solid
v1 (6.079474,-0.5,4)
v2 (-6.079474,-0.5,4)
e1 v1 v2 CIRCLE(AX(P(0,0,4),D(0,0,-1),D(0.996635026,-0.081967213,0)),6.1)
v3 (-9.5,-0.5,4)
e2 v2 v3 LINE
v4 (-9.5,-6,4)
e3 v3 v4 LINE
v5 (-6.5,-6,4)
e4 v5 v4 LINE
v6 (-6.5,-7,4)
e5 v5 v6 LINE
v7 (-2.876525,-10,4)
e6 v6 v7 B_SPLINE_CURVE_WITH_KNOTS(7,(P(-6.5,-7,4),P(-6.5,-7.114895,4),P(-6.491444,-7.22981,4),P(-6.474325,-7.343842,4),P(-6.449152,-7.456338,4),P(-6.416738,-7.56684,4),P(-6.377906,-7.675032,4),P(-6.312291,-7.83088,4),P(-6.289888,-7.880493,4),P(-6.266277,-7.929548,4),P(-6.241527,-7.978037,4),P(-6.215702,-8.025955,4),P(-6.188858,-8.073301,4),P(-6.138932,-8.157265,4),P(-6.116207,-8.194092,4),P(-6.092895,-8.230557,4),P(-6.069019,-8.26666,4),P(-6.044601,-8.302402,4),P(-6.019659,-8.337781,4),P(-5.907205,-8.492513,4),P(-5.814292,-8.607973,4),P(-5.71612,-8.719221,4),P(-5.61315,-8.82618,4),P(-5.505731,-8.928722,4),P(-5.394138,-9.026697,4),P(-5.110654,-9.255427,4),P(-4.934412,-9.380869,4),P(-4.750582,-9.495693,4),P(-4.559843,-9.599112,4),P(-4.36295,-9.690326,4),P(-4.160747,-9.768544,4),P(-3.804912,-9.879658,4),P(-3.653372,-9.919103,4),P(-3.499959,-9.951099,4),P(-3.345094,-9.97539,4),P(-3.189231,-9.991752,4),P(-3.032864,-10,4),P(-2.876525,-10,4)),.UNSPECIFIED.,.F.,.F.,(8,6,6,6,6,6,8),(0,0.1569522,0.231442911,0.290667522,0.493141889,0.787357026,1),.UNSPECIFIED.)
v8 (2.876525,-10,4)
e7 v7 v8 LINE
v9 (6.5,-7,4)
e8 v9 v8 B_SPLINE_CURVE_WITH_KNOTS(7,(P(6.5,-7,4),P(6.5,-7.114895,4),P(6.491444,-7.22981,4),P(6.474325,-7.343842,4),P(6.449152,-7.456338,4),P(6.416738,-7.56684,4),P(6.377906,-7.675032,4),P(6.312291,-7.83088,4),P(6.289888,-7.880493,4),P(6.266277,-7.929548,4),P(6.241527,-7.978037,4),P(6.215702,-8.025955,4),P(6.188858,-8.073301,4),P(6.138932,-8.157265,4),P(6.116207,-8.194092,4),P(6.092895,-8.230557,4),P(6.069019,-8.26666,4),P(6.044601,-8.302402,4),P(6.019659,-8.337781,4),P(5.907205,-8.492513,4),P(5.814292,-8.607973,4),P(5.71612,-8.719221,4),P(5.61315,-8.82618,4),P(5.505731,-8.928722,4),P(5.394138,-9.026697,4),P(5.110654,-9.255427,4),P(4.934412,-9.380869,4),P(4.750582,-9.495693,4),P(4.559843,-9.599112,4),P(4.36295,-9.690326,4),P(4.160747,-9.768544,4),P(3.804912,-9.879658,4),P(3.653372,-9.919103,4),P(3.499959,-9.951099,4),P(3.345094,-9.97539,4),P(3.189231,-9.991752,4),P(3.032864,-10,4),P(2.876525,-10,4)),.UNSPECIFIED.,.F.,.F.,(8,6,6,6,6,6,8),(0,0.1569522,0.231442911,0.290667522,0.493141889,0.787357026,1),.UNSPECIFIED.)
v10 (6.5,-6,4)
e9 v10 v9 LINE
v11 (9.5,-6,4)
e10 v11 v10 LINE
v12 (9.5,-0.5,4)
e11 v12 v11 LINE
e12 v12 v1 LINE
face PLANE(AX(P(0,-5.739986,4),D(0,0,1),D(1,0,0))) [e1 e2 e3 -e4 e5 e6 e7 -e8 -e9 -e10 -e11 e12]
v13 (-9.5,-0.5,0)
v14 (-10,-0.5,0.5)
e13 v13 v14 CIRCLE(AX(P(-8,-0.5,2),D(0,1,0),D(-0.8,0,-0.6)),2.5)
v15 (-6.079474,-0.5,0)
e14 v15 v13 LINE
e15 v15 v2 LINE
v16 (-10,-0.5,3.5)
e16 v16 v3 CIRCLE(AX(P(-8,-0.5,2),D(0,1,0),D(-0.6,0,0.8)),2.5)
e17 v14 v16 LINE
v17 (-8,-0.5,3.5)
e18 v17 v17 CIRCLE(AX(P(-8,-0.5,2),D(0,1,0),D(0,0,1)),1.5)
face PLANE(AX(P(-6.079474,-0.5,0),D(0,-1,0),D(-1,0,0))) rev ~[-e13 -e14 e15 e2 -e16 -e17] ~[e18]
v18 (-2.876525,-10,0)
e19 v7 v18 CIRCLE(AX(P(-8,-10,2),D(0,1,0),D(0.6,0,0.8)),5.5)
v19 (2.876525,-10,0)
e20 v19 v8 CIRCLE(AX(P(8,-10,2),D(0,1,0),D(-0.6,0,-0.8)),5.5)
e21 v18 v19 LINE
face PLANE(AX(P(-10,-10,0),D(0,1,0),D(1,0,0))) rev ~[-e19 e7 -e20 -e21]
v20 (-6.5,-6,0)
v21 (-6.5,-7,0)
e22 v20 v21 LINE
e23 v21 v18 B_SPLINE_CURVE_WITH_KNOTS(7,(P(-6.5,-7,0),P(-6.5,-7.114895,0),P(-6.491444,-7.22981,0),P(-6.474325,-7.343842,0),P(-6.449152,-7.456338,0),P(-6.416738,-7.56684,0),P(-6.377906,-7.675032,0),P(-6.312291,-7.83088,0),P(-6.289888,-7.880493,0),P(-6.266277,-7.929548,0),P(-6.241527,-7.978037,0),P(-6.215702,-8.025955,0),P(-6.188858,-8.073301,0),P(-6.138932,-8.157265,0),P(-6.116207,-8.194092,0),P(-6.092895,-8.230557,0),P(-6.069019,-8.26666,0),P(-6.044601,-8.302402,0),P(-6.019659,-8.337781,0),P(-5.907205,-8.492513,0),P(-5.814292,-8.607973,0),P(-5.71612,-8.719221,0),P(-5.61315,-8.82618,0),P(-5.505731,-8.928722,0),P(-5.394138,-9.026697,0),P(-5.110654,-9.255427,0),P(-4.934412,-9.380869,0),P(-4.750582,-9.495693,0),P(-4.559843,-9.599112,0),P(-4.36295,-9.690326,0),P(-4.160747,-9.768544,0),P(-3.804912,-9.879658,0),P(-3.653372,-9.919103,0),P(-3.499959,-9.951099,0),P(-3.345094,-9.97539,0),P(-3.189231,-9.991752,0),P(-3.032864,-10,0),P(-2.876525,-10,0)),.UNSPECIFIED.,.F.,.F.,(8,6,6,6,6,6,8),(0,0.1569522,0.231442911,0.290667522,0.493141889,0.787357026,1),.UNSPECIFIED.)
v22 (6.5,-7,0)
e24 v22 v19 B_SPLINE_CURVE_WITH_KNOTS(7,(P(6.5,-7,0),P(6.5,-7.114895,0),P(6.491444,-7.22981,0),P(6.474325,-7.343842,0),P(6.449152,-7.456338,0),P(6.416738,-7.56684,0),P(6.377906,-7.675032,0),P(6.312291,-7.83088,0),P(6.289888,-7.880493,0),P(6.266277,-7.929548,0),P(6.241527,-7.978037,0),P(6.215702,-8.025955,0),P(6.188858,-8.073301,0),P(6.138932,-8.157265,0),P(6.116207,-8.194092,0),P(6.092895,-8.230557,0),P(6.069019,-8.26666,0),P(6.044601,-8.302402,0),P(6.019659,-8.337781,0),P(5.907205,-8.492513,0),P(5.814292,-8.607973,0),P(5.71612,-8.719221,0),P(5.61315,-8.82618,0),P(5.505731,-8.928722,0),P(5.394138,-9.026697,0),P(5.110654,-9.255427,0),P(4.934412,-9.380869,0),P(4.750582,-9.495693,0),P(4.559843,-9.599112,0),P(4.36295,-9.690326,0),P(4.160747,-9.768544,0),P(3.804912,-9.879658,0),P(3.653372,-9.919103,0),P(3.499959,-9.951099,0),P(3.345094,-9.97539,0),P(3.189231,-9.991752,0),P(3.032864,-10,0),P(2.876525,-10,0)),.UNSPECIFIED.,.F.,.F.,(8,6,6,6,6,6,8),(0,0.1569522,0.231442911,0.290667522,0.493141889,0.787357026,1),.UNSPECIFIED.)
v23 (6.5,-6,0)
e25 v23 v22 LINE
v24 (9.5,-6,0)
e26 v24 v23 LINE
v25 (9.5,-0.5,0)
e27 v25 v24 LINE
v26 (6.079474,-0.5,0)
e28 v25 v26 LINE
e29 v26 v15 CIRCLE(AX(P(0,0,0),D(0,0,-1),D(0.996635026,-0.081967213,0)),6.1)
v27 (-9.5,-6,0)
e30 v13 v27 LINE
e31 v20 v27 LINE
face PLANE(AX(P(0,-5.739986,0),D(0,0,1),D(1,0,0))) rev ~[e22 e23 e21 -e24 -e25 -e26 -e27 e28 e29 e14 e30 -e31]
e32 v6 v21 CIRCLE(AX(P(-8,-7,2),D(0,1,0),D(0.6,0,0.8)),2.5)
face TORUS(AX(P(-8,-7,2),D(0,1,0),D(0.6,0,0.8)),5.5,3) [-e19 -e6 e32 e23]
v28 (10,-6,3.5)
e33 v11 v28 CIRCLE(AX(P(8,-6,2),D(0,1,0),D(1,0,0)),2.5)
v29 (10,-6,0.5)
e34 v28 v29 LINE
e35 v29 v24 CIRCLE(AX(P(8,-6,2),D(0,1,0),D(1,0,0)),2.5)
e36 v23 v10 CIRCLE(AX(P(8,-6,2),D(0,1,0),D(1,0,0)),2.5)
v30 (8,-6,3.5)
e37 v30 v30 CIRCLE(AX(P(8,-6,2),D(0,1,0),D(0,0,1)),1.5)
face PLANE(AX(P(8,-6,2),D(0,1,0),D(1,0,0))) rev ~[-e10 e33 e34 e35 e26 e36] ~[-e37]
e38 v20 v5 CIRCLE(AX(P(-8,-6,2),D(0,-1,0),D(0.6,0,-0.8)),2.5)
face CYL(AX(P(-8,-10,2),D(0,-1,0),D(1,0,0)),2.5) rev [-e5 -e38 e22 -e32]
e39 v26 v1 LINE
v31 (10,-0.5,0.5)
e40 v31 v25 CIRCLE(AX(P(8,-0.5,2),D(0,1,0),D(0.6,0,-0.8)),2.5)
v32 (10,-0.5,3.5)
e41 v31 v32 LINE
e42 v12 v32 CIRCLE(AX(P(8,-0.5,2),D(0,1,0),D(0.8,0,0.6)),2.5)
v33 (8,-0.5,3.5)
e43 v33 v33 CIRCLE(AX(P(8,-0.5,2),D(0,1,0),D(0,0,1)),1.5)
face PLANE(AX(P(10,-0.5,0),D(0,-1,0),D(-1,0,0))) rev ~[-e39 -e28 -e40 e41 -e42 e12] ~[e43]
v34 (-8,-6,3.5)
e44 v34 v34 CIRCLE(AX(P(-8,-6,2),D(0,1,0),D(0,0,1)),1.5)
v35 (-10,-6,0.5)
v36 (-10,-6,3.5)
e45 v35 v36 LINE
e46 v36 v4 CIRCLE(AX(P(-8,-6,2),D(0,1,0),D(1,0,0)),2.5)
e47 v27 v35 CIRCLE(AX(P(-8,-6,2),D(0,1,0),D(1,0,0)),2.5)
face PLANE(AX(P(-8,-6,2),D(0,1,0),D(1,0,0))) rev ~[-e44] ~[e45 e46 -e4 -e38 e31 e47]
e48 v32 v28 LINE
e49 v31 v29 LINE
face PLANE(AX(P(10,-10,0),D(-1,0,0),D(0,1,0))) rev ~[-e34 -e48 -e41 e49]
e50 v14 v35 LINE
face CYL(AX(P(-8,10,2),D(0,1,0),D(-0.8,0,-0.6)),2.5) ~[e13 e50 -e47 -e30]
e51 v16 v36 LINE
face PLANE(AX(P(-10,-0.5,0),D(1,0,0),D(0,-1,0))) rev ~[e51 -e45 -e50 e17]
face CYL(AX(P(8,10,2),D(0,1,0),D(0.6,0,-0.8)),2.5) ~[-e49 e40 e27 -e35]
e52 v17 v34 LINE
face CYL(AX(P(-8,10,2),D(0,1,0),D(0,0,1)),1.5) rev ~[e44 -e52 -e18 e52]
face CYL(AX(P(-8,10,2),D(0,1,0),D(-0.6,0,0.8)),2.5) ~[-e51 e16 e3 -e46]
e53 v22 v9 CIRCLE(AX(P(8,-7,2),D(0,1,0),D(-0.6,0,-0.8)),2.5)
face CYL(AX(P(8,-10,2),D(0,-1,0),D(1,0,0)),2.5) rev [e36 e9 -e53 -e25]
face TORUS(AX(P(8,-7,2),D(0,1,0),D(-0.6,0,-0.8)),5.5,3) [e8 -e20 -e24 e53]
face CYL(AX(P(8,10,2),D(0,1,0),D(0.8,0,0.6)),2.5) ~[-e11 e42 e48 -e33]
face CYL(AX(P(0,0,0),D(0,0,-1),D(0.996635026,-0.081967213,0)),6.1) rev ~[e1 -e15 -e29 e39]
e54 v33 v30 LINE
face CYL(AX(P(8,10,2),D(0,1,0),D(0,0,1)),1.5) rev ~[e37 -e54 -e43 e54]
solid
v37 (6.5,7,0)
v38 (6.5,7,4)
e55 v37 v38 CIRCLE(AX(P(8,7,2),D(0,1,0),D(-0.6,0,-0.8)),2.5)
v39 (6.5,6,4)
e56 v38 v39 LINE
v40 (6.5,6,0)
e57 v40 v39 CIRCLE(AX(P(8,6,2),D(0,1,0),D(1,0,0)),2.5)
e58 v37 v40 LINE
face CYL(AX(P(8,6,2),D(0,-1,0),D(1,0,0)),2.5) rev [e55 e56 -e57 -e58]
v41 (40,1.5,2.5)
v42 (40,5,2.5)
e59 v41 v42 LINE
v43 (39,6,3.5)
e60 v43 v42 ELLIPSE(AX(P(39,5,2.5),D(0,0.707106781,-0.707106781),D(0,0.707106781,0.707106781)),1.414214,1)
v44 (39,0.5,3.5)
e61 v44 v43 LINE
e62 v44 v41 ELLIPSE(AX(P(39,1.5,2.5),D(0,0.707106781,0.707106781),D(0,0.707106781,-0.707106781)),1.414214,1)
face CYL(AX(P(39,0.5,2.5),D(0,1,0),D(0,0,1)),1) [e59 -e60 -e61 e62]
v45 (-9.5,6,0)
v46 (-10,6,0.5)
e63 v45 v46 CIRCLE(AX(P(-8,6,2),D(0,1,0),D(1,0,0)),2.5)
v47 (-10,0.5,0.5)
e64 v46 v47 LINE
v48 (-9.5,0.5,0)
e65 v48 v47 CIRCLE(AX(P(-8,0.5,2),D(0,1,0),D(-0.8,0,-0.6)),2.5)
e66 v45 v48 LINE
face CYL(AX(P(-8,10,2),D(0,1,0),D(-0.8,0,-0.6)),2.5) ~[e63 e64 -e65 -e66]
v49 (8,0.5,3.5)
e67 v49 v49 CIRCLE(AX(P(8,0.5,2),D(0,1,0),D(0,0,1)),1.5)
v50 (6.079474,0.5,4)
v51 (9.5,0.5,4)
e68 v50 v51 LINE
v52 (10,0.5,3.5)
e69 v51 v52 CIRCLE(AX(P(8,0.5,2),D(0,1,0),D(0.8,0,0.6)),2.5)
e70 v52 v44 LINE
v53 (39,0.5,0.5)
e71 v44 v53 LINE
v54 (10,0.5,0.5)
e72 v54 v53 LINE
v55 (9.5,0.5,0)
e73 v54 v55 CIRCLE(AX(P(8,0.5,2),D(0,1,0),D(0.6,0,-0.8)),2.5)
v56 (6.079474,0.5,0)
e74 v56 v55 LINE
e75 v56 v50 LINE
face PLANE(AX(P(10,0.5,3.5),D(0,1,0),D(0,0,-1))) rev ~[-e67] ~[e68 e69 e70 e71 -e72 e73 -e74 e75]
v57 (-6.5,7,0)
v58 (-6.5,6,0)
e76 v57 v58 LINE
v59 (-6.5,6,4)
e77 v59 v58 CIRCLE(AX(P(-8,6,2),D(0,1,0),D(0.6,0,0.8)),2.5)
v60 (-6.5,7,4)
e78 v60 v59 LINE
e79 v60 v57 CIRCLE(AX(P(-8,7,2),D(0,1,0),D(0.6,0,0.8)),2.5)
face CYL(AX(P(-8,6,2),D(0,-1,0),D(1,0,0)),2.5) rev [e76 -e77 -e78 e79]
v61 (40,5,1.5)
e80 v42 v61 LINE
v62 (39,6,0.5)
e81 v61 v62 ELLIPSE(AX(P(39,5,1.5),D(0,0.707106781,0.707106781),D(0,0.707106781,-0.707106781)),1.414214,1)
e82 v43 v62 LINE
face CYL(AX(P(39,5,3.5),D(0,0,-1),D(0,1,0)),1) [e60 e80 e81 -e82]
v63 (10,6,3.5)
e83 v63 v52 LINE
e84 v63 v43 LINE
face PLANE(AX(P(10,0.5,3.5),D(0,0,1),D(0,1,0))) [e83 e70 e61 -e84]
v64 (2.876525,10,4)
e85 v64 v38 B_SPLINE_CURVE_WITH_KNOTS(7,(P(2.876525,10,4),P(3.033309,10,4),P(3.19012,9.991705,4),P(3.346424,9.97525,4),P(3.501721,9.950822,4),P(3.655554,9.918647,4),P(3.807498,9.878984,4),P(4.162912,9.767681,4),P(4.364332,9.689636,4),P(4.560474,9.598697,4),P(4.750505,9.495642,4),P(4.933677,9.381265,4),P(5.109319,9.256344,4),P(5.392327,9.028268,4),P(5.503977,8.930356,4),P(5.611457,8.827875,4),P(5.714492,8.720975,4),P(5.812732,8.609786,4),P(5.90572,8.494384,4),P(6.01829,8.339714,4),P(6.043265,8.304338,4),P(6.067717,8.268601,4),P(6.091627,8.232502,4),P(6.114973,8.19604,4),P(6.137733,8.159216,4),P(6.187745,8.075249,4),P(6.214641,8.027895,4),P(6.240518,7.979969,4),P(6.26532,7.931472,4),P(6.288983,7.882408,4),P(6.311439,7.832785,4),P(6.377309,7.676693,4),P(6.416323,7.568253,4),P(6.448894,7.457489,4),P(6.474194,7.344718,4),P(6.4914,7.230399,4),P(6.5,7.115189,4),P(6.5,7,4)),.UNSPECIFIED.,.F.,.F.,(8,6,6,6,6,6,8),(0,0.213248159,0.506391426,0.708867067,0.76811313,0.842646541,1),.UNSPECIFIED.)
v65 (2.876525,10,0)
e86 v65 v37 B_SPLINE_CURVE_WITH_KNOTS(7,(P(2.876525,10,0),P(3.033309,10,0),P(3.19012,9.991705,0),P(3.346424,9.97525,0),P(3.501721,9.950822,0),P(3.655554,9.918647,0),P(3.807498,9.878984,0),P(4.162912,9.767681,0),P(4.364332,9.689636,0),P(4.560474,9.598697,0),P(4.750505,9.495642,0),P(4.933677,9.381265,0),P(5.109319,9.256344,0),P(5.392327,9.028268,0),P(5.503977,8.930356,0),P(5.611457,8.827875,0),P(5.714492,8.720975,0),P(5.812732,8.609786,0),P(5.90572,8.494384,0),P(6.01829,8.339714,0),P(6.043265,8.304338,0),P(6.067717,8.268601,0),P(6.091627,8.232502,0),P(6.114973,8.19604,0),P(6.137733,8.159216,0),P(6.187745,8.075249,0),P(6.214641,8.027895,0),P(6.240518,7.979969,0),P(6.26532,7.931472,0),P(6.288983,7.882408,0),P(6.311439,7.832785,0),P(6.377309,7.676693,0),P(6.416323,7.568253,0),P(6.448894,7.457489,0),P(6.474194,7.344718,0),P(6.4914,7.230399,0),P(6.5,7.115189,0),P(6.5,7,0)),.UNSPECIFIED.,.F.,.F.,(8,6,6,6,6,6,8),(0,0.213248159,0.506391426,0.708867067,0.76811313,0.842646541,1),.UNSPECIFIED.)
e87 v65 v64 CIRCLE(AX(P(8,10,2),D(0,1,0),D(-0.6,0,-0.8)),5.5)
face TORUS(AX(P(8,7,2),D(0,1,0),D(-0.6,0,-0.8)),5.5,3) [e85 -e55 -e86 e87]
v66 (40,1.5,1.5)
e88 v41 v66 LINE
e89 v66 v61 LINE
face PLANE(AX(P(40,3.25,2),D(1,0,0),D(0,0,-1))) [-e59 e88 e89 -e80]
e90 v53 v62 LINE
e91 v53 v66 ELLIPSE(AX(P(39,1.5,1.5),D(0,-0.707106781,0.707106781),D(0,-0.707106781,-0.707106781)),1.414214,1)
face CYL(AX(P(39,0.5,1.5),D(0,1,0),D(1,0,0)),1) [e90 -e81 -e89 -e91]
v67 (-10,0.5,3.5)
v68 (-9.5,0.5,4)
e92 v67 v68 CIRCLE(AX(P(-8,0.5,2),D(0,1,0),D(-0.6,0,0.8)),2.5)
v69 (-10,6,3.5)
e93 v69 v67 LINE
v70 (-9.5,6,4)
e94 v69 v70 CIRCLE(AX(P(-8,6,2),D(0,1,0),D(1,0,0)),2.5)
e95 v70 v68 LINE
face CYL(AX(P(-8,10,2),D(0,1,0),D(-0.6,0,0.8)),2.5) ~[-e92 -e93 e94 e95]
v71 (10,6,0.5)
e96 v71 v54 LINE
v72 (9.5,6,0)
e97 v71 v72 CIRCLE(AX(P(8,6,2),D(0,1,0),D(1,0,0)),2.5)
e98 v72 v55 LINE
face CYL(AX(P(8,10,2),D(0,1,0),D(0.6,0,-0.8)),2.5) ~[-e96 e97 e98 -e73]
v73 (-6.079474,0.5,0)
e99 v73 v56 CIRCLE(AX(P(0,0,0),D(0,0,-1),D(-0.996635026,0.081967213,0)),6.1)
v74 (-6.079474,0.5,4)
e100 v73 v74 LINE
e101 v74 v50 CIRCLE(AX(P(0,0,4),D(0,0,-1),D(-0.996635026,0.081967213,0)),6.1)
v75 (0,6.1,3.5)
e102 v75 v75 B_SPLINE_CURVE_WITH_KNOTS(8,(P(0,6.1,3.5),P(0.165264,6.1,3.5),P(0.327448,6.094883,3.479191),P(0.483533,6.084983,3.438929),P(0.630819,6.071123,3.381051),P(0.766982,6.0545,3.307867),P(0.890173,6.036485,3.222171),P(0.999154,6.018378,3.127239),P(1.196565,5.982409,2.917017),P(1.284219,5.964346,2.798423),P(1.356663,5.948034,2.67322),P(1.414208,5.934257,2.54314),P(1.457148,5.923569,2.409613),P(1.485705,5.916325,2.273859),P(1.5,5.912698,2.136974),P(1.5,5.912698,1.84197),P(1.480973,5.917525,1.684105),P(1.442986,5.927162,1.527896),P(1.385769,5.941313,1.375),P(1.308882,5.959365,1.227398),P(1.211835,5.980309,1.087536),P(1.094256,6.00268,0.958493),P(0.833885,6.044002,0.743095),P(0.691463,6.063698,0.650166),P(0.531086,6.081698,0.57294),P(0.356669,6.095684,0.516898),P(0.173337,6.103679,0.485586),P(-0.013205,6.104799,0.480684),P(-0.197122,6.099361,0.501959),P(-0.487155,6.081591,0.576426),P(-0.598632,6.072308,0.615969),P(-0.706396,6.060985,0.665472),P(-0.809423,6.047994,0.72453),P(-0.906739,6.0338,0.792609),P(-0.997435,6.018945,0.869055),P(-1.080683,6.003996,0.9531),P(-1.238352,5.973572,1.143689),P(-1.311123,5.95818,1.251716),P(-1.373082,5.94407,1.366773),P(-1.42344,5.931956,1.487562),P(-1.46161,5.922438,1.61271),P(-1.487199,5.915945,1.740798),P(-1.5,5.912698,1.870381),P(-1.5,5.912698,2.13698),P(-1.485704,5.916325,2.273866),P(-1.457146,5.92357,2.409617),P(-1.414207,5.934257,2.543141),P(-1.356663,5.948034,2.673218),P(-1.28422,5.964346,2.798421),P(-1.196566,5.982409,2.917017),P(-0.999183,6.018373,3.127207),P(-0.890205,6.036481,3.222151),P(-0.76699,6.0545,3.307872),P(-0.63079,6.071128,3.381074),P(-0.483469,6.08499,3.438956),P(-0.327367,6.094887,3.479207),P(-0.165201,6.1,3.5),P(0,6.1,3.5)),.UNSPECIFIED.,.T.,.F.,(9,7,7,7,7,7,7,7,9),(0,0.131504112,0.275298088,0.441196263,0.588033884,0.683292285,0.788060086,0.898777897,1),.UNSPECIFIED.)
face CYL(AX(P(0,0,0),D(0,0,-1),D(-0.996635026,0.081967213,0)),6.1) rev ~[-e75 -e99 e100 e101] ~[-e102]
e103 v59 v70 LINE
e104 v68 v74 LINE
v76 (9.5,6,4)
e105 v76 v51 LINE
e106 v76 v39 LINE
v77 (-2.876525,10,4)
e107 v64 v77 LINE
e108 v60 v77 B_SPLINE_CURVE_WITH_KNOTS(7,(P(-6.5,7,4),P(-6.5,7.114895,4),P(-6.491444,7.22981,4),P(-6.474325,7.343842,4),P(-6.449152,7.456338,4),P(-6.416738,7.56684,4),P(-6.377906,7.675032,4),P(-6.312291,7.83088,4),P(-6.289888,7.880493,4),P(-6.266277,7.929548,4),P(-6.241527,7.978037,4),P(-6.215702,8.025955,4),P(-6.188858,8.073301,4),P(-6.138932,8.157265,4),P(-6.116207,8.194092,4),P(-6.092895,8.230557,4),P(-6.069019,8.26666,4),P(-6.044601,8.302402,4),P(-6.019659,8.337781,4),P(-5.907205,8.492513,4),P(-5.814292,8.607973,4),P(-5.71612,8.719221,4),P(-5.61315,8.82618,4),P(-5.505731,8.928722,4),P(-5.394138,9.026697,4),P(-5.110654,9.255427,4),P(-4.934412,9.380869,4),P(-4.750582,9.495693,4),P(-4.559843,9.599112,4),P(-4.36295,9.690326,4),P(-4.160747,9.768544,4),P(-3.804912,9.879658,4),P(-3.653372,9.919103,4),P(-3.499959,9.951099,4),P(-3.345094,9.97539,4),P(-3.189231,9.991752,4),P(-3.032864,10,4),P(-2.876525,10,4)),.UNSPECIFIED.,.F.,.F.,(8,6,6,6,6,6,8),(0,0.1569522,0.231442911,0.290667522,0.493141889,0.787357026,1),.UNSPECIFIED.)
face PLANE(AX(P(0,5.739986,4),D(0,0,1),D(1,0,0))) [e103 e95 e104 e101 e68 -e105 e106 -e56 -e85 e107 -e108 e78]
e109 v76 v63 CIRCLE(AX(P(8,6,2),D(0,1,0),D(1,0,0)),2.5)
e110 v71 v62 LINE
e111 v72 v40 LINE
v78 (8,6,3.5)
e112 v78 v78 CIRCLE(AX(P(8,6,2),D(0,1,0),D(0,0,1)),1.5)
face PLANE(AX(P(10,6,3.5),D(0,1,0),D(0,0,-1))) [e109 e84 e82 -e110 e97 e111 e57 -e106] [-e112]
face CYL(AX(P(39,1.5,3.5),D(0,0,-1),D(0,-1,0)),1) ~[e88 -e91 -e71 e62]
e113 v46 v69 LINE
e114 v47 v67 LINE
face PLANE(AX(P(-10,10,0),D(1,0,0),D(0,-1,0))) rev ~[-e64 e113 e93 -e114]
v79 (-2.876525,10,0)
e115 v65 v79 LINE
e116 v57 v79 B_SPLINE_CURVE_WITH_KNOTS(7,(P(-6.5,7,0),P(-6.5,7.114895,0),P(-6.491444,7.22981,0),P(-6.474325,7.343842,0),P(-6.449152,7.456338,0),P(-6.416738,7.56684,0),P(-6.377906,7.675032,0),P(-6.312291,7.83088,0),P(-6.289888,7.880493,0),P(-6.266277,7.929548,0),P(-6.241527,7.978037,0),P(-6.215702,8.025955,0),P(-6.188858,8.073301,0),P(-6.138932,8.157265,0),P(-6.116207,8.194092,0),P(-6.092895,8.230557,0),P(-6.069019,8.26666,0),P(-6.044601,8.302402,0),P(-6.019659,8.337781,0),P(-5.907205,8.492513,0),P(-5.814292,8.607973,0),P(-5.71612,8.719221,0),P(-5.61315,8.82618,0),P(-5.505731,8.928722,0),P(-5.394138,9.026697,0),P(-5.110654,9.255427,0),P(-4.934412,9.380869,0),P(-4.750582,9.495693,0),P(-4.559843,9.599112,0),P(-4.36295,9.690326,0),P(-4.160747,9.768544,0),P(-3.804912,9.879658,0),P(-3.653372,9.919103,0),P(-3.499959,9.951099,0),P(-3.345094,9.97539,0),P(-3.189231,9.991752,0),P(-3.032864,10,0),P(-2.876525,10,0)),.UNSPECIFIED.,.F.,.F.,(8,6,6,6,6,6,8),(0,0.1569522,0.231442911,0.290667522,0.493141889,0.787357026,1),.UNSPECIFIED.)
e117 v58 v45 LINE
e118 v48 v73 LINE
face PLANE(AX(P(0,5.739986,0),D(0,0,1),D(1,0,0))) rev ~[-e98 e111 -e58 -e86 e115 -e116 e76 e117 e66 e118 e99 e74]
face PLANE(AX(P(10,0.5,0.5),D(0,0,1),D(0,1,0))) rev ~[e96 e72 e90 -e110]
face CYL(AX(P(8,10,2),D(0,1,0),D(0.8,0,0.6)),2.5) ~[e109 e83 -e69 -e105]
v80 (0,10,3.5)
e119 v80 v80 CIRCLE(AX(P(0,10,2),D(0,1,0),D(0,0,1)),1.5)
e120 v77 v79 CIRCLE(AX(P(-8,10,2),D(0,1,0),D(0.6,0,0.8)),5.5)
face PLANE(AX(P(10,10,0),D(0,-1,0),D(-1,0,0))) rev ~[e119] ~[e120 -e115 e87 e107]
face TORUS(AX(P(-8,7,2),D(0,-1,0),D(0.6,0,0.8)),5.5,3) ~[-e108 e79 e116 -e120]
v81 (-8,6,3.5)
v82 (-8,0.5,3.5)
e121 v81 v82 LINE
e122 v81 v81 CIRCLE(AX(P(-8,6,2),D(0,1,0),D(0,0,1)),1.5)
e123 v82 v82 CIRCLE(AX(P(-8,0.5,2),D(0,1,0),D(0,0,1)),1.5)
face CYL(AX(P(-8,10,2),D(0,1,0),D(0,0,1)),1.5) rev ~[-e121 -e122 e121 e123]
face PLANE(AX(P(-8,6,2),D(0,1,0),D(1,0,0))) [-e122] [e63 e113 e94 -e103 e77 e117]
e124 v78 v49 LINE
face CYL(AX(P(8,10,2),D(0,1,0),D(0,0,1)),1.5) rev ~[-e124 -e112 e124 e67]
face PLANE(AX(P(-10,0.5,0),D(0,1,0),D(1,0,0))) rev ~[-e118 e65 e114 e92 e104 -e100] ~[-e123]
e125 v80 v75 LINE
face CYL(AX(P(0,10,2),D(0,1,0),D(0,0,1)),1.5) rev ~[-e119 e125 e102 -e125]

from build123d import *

# Parameters (mm, degrees)
BOSS_EXTRUDE1_DEPTH   = 4
BOSS_EXTRUDE1_2_DEPTH = 4
CUT_EXTRUDE1_START    = -10
SKETCH2_R             = 2.5
SKETCH2_R_2           = 1.5
CUT_EXTRUDE1_DEPTH    = 4
CUT_EXTRUDE2_START    = 6
SKETCH3_R             = 2.5
SKETCH3_R_2           = 1.5
CUT_EXTRUDE2_DEPTH    = 4
SKETCH4_R             = 1.5
CUT_EXTRUDE3_DEPTH    = 23.715633383
SKETCH5_R             = 1.5
CUT_EXTRUDE4_DEPTH    = 6
FILLET1_R             = 3
FILLET2_R             = 3
SKETCH6_W             = 3
SKETCH6_H             = 5.5
BOSS_EXTRUDE2_DEPTH   = 30
FILLET3_R             = 1


with BuildPart() as part:
    # Sketch1 → Boss-Extrude1 (new body)
    with BuildSketch(Plane.XY):
        with BuildLine():
            Line((-10, -0.5), (-10, -10))
            Line((-10, -10), (10, -10))
            Line((10, -10), (10, -0.5))
            Line((10, -0.5), (6.079473661, -0.5))
            ThreePointArc((6.079473661, -0.5), (0, -6.1), (-6.079473661, -0.5))
            Line((-6.079473661, -0.5), (-10, -0.5))
        make_face()
    extrude(amount=BOSS_EXTRUDE1_DEPTH)

    # Sketch2 → Cut-Extrude1 (cut)
    # profile 1 of 2: a face of its own
    with BuildSketch(Plane(origin=(0, 0, 0), x_dir=(1, 0, 0), z_dir=(0, 1, 0)).offset(CUT_EXTRUDE1_START)):
        with Locations((8, -2)):
            Circle(SKETCH2_R)
    # profile 2 of 2: a face of its own
    with BuildSketch(Plane(origin=(0, 0, 0), x_dir=(1, 0, 0), z_dir=(0, 1, 0)).offset(CUT_EXTRUDE1_START)):
        with Locations((-8, -2)):
            Circle(SKETCH2_R)
        with Locations(Location((-8, -2, 0), (0, 0, 270))):
            Circle(SKETCH2_R_2, mode=Mode.SUBTRACT)
    extrude(amount=CUT_EXTRUDE1_DEPTH, mode=Mode.SUBTRACT)


with BuildPart() as body_2:
    # Sketch1 → Boss-Extrude1 2 (new body)
    with BuildSketch(Plane.XY):
        with BuildLine():
            Line((-10, 10), (-10, 0.5))
            Line((-10, 0.5), (-6.079473661, 0.5))
            ThreePointArc((-6.079473661, 0.5), (0, 6.1), (6.079473661, 0.5))
            Line((6.079473661, 0.5), (10, 0.5))
            Line((10, 0.5), (10, 10))
            Line((10, 10), (-10, 10))
        make_face()
    extrude(amount=BOSS_EXTRUDE1_2_DEPTH)

    # Sketch3 → Cut-Extrude2 (cut)
    # profile 1 of 2: a face of its own
    with BuildSketch(Plane(origin=(0, 0, 0), x_dir=(1, 0, 0), z_dir=(0, 1, 0)).offset(CUT_EXTRUDE2_START)):
        with Locations((-8, -2)):
            Circle(SKETCH3_R)
        with Locations(Location((-8, -2, 0), (0, 0, 270))):
            Circle(SKETCH3_R_2, mode=Mode.SUBTRACT)
    # profile 2 of 2: a face of its own
    with BuildSketch(Plane(origin=(0, 0, 0), x_dir=(1, 0, 0), z_dir=(0, 1, 0)).offset(CUT_EXTRUDE2_START)):
        with Locations((8, -2)):
            Circle(SKETCH3_R)
        with Locations(Location((8, -2, 0), (0, 0, 270))):
            Circle(SKETCH3_R_2, mode=Mode.SUBTRACT)
    extrude(amount=CUT_EXTRUDE2_DEPTH, mode=Mode.SUBTRACT)


with BuildPart() as cut_extrude3_tool:
    # Sketch4 → Cut-Extrude3 (new, through all)
    with BuildSketch(Plane(origin=(0, 10, 0), x_dir=(1, 0, 0), z_dir=(0, 1, 0))):
        with Locations(Location((8, -2, 0), (0, 0, 270))):
            Circle(SKETCH4_R)
        with Locations(Location((-8, -2, 0), (0, 0, 270))):
            Circle(SKETCH4_R)
        with BuildLine():
            Line((-10, -3.5), (-10, -4))
            Line((-10, -4), (-9.5, -4))
            ThreePointArc((-9.5, -4), (-9.767766953, -3.767766953), (-10, -3.5))
        make_face()
        with BuildLine():
            Line((-9.5, 0), (-10, 0))
            Line((-10, 0), (-10, -0.5))
            ThreePointArc((-10, -0.5), (-9.767766953, -0.232233047), (-9.5, 0))
        make_face()
        with BuildLine():
            Line((10, -0.5), (10, 0))
            Line((10, 0), (9.5, 0))
            ThreePointArc((9.5, 0), (9.767766953, -0.232233047), (10, -0.5))
        make_face()
        with BuildLine():
            Line((9.5, -4), (10, -4))
            Line((10, -4), (10, -3.5))
            ThreePointArc((10, -3.5), (9.767766953, -3.767766953), (9.5, -4))
        make_face()
    extrude(amount=-CUT_EXTRUDE3_DEPTH)


with BuildPart() as part_1:
    add(part.part)

    # Cut-Extrude3: cut by cut_extrude3_tool
    add(cut_extrude3_tool.part, mode=Mode.SUBTRACT)

    # Fillet2
    fillet2_edges = [part_1.edges().sort_by_distance(p)[0] for p in [
        (-5.5, -10, 2),
        (5.5, -10, 2),
    ]]
    fillet(fillet2_edges, radius=FILLET2_R)


with BuildPart() as body_2_1:
    add(body_2.part)

    # Cut-Extrude3: cut by cut_extrude3_tool
    add(cut_extrude3_tool.part, mode=Mode.SUBTRACT)

    # Sketch5 → Cut-Extrude4 (cut)
    with BuildSketch(Plane(origin=(0, 10, 0), x_dir=(1, 0, 0), z_dir=(0, 1, 0))):
        with Locations(Location((0, -2, 0), (0, 0, 270))):
            Circle(SKETCH5_R)
    extrude(amount=-CUT_EXTRUDE4_DEPTH, mode=Mode.SUBTRACT)

    # Fillet1
    fillet1_edges = [body_2_1.edges().sort_by_distance(p)[0] for p in [
        (-5.5, 10, 2),
        (5.5, 10, 2),
    ]]
    fillet(fillet1_edges, radius=FILLET1_R)

    # Sketch6 → Boss-Extrude2 (add)
    with BuildSketch(Plane(origin=(10, 0, 0), x_dir=(0, 0, -1), z_dir=(1, 0, 0))):
        with Locations((-2, 3.25)):
            Rectangle(SKETCH6_W, SKETCH6_H)
    extrude(amount=BOSS_EXTRUDE2_DEPTH)

    # Fillet3
    fillet3_edges = [body_2_1.edges().sort_by_distance(p)[0] for p in [
        (40, 3.25, 3.5),
        (40, 0.5, 2),
        (40, 3.25, 0.5),
        (40, 6, 2),
    ]]
    fillet(fillet3_edges, radius=FILLET3_R)


solid = Compound([part_1.part, body_2_1.part])
